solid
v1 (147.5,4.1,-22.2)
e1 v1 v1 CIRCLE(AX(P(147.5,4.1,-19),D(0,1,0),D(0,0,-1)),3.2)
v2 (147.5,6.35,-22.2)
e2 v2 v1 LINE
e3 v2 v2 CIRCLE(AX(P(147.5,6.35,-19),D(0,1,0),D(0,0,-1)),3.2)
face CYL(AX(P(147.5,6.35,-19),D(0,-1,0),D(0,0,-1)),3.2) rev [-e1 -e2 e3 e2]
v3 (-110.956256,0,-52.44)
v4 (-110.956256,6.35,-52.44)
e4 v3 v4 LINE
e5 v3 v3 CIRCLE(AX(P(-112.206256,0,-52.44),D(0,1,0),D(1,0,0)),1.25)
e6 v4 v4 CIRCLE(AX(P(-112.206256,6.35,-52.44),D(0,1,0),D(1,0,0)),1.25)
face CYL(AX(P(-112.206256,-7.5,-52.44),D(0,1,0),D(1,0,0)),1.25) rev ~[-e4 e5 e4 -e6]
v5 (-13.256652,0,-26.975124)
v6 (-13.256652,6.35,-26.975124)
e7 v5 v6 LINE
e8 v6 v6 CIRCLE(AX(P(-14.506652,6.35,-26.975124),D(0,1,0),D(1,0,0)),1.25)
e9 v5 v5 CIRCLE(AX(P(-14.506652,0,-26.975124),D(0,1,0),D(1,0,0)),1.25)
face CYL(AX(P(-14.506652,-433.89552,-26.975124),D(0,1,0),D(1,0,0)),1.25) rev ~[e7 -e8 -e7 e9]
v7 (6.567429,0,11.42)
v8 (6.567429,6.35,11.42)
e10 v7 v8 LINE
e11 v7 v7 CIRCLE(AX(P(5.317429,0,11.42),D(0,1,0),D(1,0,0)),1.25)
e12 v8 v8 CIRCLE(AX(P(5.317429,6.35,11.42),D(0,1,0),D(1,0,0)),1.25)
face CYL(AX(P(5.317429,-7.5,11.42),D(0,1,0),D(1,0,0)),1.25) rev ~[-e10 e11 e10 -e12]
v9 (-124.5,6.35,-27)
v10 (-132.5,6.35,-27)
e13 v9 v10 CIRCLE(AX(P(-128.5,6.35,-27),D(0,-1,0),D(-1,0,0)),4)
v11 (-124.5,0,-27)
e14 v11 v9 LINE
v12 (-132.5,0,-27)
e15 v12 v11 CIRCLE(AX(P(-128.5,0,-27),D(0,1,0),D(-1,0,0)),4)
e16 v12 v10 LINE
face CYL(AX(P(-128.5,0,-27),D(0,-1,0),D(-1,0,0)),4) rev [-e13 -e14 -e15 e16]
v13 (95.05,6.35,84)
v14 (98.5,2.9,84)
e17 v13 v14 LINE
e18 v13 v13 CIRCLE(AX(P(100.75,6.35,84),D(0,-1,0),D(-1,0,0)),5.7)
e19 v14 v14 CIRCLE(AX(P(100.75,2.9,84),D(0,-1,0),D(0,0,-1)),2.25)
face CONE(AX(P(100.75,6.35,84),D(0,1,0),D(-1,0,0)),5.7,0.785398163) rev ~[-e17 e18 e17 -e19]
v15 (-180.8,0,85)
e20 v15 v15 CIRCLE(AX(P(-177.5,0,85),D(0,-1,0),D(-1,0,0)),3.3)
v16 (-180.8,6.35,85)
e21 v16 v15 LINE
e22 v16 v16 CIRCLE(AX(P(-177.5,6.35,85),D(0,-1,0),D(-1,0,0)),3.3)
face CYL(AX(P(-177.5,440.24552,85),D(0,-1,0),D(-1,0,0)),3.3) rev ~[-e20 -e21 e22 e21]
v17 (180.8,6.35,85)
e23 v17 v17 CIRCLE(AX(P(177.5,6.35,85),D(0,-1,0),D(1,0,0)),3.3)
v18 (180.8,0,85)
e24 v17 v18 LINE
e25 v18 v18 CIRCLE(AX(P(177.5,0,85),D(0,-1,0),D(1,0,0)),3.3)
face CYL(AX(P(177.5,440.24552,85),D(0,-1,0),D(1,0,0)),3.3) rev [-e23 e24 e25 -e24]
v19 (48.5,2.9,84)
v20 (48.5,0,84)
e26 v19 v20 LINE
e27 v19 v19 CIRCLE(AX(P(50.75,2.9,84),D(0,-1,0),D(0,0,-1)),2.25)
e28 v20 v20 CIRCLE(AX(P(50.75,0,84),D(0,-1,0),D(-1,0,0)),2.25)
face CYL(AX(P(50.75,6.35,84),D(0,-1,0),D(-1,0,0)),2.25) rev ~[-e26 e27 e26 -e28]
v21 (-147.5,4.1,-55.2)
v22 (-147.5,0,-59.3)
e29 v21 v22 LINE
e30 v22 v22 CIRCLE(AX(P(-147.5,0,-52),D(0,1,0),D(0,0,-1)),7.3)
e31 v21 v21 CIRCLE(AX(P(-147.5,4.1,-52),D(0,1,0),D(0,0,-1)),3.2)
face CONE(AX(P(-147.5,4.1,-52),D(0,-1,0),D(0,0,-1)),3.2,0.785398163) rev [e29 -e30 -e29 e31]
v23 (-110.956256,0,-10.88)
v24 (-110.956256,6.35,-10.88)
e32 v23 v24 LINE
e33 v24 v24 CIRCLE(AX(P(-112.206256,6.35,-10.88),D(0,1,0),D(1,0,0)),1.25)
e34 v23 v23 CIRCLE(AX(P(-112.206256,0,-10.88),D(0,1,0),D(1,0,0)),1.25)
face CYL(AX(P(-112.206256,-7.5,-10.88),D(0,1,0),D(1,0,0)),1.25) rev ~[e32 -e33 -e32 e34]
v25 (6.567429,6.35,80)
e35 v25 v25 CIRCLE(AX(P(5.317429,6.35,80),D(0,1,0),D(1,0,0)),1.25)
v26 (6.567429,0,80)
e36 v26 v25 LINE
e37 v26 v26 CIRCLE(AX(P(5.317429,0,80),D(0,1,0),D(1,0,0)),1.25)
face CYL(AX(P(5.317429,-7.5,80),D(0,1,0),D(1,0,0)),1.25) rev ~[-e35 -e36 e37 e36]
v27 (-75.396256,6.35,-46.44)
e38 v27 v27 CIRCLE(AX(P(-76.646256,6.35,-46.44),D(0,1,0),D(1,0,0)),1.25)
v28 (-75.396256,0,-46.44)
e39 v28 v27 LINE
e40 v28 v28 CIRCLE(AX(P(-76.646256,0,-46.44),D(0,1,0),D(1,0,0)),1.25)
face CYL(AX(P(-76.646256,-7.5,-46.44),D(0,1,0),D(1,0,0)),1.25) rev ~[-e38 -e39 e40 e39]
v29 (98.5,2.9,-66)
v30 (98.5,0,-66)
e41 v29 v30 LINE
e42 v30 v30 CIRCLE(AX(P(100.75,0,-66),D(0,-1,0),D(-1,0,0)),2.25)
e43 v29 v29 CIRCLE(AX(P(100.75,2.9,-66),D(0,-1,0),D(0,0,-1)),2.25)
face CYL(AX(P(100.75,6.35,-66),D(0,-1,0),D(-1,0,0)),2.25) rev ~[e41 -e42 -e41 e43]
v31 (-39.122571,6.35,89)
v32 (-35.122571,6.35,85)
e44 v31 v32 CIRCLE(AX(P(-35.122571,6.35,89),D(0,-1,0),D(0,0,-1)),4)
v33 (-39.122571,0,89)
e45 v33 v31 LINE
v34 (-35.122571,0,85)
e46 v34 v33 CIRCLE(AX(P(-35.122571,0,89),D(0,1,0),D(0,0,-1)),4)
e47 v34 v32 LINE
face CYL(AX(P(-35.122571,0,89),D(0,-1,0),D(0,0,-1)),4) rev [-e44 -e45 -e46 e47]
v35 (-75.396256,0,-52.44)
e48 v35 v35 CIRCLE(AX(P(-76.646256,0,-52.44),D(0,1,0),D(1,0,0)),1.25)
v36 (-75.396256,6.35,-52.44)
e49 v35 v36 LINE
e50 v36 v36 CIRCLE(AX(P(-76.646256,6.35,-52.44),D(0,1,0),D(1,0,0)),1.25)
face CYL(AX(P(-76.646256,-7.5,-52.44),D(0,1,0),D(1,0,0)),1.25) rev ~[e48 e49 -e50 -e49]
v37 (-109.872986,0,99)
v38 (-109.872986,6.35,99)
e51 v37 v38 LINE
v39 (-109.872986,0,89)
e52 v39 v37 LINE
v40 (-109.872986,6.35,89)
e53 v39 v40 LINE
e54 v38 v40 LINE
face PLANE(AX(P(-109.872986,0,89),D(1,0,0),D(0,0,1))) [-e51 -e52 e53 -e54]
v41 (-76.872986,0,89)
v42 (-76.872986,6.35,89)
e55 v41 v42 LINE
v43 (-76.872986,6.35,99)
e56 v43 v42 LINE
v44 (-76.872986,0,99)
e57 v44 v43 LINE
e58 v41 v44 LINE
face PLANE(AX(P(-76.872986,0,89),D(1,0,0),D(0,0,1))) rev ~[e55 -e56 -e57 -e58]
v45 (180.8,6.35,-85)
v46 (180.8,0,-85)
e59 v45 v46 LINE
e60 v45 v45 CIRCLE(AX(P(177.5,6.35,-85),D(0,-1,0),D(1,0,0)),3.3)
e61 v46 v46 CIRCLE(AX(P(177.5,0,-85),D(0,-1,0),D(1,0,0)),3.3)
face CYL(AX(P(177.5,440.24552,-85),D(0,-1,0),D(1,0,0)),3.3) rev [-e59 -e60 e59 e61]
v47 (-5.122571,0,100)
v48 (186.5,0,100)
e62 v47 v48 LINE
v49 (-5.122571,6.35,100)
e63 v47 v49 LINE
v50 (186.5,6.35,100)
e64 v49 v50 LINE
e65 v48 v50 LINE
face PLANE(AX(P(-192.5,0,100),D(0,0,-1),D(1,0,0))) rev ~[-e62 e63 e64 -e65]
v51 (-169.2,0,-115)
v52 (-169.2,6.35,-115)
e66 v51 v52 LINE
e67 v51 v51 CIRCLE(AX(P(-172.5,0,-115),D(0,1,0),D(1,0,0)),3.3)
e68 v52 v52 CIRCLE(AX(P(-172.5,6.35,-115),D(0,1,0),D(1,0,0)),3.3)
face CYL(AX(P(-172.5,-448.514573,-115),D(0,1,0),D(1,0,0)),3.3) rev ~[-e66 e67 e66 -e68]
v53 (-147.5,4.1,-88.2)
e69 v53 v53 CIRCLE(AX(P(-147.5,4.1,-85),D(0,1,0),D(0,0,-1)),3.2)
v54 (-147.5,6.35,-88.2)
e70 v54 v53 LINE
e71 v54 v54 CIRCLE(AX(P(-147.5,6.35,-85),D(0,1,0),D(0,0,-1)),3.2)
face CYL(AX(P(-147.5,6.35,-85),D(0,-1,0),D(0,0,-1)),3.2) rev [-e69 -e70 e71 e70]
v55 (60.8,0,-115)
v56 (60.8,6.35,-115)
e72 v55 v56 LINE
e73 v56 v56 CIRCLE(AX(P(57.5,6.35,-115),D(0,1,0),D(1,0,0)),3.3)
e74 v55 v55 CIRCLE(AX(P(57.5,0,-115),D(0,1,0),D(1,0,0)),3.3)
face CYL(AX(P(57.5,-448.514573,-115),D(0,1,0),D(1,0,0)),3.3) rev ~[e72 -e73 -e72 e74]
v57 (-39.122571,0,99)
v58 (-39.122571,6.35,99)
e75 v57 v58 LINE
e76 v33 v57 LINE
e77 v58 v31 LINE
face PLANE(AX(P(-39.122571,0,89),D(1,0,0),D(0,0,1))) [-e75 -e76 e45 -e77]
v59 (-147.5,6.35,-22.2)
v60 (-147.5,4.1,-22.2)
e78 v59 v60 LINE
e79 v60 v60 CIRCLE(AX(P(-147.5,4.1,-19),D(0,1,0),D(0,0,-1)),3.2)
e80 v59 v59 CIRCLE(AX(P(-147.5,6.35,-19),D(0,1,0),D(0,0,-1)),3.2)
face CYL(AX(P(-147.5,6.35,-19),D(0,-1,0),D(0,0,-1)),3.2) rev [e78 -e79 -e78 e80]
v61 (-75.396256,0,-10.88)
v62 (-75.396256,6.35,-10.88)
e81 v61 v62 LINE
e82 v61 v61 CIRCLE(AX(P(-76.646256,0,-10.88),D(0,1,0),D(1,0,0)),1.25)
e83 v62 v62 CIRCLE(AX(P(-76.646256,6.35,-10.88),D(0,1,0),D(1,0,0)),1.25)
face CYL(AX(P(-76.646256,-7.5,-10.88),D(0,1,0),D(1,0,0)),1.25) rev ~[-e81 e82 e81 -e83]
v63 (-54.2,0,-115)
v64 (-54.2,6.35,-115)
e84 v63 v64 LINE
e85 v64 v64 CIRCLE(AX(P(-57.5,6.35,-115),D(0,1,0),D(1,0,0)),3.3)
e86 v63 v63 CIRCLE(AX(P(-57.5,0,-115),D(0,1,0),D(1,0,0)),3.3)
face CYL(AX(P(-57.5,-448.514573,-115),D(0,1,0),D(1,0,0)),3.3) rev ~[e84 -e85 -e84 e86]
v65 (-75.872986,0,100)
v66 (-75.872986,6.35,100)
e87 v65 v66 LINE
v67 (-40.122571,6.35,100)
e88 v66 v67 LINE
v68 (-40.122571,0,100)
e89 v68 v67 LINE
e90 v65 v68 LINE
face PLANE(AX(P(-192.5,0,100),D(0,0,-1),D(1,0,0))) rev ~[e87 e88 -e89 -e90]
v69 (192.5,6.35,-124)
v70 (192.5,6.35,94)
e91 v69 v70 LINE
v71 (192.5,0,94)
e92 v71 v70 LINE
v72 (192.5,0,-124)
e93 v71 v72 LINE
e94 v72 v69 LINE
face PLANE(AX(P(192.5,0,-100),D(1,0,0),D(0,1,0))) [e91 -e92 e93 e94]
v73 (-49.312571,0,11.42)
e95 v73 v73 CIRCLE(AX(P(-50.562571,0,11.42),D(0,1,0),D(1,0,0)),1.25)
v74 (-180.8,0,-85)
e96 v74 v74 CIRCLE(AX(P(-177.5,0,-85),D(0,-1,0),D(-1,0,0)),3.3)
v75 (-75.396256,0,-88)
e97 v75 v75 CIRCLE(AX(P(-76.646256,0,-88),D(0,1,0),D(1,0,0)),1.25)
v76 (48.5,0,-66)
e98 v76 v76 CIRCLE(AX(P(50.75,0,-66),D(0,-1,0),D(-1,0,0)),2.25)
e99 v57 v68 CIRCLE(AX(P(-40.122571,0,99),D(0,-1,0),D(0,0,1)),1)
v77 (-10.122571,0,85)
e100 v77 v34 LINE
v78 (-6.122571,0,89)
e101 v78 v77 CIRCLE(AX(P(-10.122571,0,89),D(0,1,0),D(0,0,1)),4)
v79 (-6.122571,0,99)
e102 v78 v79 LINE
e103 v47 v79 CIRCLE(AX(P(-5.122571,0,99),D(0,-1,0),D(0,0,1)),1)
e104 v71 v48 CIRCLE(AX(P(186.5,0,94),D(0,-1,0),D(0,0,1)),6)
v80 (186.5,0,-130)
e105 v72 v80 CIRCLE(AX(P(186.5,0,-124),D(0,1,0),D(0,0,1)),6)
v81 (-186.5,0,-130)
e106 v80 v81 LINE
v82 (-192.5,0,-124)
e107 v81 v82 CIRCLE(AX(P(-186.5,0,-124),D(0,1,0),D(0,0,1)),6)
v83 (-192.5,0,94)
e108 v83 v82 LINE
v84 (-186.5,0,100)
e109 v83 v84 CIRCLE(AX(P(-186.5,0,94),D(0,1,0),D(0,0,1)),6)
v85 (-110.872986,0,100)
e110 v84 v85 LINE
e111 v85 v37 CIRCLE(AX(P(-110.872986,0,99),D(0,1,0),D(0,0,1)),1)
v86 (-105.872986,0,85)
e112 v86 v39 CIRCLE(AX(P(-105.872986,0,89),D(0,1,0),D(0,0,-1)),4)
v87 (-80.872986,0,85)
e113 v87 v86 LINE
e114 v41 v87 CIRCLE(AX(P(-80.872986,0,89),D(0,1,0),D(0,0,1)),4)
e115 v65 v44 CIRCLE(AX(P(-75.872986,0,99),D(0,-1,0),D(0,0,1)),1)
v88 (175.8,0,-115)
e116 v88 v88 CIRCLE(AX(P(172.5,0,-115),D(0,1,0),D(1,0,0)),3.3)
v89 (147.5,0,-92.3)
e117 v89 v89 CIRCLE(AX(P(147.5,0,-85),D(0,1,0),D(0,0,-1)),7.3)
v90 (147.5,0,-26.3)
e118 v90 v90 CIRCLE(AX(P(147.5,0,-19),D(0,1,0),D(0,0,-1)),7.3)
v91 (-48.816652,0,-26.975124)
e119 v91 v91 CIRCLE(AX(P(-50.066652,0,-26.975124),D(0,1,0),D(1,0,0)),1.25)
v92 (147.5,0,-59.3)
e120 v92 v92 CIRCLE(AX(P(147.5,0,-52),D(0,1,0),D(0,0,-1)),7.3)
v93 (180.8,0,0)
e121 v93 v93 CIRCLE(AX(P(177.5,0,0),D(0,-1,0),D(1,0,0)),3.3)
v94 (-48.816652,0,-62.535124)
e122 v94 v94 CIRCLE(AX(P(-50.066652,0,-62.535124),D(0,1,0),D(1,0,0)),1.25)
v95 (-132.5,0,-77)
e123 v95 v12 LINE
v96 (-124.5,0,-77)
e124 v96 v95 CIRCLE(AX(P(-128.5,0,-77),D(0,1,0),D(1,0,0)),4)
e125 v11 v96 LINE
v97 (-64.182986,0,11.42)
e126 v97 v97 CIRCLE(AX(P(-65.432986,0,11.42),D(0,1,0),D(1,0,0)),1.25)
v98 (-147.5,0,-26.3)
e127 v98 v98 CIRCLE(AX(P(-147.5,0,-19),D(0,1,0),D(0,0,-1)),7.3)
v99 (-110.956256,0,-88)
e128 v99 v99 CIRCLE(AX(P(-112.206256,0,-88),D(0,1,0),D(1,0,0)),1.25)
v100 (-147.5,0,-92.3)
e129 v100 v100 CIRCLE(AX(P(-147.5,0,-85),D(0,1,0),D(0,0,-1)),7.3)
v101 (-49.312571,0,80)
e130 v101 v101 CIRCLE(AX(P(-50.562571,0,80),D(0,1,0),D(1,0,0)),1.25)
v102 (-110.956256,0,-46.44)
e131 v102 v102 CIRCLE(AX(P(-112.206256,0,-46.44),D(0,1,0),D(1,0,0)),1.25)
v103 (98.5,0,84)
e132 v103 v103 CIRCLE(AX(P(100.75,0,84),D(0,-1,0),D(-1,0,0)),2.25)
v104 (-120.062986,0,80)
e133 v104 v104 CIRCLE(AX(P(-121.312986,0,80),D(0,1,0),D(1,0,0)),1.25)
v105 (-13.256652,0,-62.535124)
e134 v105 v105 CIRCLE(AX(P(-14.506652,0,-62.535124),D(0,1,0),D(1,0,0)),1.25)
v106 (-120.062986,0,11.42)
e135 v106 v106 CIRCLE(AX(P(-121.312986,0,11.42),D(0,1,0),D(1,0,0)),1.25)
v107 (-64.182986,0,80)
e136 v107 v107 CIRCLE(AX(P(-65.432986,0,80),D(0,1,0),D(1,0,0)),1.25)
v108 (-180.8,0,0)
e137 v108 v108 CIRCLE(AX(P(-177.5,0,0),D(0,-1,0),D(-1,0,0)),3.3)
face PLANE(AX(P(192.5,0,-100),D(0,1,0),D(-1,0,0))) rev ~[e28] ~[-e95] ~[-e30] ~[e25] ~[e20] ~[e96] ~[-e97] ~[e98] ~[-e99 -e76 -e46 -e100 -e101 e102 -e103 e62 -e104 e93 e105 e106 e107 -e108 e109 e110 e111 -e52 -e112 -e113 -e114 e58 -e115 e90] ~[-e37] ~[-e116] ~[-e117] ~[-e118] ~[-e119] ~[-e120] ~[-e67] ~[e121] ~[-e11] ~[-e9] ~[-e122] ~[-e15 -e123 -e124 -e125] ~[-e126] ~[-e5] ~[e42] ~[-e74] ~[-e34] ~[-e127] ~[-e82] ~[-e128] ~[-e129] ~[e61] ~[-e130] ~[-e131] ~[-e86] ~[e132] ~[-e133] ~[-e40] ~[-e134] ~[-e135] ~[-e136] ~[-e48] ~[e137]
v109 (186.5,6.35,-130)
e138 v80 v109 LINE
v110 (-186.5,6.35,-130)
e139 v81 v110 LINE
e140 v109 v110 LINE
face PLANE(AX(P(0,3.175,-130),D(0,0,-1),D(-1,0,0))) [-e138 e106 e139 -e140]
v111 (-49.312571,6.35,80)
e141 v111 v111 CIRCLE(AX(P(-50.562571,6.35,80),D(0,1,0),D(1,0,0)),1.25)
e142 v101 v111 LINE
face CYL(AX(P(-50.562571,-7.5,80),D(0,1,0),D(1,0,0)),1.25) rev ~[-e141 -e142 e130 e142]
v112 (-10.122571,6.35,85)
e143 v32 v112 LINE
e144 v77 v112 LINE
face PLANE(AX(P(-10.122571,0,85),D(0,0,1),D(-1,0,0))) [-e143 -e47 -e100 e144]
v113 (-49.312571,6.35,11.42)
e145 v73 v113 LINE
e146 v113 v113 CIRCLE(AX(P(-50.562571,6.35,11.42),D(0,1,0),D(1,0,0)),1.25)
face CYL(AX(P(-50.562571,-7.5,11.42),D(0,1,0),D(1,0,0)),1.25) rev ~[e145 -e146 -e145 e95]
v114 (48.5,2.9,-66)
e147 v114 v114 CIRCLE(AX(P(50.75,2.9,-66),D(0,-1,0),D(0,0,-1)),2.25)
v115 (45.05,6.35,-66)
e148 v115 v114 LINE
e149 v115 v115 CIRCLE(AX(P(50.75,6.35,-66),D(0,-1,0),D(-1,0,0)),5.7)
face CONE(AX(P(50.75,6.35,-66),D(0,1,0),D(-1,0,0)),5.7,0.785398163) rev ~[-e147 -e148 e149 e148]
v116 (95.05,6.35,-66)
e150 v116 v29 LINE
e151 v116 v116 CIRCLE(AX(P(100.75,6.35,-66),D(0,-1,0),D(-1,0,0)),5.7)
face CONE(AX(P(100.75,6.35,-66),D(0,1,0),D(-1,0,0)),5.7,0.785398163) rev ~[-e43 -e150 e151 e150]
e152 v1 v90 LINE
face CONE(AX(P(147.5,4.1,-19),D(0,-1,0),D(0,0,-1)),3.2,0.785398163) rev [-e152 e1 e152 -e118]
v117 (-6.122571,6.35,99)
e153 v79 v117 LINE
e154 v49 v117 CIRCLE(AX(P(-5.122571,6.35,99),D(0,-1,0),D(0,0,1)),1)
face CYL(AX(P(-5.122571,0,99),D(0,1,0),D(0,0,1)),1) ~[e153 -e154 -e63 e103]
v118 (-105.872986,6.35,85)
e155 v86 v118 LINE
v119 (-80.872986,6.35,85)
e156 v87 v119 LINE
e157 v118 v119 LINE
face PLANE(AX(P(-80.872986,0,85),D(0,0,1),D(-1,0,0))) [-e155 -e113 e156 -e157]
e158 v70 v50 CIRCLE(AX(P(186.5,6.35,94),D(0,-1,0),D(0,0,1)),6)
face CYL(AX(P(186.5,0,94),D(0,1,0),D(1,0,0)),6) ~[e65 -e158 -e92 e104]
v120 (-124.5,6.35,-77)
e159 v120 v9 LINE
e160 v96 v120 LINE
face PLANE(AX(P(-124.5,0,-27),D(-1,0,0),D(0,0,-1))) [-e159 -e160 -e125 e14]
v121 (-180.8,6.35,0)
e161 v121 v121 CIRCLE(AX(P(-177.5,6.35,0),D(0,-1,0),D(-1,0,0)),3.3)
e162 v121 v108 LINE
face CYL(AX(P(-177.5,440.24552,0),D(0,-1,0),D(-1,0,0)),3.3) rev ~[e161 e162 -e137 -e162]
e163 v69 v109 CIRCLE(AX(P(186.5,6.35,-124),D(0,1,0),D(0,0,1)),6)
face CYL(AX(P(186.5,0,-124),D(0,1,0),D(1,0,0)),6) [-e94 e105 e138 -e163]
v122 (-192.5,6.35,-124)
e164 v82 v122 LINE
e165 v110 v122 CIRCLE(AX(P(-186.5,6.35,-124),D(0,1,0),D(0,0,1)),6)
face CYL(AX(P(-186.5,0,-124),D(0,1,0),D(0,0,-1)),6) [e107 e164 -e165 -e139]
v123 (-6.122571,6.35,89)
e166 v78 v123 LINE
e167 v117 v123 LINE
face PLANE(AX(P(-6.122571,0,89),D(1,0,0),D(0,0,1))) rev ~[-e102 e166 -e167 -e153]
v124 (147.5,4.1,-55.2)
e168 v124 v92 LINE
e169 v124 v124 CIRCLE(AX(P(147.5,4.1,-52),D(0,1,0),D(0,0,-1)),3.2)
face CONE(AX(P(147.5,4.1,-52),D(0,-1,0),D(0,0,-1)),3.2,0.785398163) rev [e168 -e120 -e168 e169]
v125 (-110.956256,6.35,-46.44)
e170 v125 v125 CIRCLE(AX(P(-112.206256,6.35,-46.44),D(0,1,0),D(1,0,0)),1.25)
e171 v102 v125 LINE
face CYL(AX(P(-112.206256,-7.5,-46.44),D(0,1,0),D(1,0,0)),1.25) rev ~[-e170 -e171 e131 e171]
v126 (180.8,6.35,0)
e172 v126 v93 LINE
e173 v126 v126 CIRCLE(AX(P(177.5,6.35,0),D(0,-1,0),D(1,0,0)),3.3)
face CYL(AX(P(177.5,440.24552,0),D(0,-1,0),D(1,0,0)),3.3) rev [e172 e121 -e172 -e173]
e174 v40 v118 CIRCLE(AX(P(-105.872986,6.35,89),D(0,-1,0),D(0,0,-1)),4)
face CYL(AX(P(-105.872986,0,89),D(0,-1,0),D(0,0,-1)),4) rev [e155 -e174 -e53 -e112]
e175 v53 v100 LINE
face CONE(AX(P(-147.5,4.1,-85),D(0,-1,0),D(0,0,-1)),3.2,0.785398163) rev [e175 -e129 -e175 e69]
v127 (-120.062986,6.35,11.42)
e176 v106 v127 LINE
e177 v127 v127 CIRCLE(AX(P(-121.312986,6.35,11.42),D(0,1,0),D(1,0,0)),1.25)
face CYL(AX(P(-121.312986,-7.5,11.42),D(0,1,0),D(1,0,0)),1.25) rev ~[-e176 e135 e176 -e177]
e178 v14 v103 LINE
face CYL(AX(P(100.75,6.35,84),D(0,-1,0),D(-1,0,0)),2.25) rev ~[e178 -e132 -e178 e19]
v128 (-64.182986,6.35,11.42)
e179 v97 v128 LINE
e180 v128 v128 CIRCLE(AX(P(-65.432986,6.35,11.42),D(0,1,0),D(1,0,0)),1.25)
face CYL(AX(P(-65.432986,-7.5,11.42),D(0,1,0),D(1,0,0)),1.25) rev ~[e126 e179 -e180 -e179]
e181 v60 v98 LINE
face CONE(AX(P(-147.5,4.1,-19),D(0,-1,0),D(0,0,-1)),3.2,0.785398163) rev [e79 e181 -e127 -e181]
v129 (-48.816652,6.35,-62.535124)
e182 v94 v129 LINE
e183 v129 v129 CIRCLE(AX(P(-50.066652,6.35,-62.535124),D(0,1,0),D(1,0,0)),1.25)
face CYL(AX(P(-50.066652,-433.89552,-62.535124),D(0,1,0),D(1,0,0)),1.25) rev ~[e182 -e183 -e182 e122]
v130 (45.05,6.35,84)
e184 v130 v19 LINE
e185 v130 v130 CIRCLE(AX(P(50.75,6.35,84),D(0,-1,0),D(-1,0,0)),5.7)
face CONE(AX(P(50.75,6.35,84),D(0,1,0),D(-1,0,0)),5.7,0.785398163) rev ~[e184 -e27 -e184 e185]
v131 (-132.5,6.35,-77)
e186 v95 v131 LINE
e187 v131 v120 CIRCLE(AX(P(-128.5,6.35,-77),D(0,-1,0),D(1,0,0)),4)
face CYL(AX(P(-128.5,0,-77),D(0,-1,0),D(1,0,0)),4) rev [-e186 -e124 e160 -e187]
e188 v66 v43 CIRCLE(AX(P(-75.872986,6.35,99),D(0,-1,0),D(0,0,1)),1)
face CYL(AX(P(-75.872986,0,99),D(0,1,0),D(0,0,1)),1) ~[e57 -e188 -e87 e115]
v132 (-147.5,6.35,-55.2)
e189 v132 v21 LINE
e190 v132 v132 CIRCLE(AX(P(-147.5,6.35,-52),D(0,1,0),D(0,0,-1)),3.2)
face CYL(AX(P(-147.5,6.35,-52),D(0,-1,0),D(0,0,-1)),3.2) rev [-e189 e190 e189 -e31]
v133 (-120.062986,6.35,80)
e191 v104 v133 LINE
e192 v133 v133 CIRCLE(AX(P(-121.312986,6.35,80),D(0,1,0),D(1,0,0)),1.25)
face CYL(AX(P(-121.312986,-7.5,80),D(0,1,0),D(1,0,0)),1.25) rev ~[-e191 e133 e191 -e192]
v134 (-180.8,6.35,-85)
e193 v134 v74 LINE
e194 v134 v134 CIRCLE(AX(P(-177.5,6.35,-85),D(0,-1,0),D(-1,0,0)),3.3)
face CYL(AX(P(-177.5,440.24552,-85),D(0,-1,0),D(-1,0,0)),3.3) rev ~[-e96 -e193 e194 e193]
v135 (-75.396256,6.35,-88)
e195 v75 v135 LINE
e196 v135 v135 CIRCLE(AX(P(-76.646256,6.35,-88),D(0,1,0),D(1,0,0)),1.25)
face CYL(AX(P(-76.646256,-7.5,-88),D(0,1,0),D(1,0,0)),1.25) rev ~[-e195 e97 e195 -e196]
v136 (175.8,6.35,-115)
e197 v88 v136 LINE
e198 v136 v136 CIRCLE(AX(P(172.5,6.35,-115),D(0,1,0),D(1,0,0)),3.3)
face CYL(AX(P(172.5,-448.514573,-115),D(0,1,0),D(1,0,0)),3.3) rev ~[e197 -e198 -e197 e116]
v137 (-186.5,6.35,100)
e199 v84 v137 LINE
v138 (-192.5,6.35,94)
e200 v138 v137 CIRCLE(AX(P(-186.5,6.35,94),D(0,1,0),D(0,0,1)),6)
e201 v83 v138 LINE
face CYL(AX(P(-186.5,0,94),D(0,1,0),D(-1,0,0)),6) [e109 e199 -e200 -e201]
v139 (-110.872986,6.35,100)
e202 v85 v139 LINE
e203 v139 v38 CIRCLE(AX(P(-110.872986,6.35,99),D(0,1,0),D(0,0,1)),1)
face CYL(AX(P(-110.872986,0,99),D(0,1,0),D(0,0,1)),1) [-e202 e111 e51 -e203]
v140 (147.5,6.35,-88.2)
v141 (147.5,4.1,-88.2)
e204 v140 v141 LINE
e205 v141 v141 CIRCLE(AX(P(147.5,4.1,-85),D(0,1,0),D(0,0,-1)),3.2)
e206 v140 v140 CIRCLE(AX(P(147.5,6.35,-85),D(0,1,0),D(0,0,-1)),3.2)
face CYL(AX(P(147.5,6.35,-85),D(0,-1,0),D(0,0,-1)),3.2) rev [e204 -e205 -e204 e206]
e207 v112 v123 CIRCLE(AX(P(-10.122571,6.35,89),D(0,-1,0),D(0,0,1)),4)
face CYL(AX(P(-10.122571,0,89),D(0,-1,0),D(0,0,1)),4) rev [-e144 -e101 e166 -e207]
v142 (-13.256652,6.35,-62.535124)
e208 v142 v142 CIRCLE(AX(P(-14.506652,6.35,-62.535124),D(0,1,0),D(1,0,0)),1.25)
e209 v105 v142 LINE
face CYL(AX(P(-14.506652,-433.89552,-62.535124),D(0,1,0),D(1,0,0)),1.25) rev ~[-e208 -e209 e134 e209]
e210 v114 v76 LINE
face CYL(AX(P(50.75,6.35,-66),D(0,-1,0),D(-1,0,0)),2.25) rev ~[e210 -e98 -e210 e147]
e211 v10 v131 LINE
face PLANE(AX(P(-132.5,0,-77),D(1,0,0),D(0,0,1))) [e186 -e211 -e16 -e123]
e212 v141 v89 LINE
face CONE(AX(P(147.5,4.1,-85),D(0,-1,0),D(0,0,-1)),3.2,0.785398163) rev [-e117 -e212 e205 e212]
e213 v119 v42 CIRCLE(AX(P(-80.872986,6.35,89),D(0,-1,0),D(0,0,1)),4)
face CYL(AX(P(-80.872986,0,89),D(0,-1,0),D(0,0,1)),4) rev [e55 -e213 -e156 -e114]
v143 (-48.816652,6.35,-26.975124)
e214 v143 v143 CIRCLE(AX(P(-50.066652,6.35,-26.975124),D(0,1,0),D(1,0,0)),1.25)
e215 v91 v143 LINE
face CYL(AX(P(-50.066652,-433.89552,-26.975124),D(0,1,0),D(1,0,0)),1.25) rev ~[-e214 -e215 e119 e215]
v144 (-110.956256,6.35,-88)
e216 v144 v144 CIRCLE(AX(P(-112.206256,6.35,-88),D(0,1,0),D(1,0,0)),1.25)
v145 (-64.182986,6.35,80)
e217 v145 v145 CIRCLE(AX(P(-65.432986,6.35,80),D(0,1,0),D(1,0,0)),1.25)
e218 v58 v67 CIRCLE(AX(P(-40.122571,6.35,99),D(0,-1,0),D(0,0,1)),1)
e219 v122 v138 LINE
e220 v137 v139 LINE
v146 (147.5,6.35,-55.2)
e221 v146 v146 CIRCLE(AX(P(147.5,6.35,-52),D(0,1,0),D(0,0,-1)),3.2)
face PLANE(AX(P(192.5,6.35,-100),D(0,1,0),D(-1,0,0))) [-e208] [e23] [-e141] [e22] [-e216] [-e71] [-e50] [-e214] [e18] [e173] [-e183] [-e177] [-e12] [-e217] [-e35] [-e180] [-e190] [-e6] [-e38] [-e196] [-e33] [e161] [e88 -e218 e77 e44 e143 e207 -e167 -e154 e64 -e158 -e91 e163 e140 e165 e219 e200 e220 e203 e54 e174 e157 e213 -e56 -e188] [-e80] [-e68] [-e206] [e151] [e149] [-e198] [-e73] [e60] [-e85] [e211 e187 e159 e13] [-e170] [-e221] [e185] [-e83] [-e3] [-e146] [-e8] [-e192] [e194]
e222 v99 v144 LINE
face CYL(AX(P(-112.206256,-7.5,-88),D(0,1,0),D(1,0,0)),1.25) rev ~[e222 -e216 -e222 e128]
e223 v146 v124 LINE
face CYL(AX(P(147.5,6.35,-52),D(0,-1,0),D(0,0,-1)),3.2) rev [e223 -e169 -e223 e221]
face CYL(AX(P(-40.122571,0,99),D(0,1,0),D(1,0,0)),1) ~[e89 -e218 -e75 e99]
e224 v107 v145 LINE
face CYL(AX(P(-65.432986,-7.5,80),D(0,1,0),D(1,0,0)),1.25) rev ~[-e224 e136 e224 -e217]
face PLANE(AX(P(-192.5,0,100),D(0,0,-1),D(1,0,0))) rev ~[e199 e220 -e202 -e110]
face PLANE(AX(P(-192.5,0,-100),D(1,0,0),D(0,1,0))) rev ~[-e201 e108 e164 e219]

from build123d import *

# Parameters (mm, degrees)
SKETCH1_W                                       = 385
SKETCH1_H                                       = 200
BOSS_EXTRUDE1_DEPTH                             = 6.35
M6_CLEARANCE_HOLE1_D                            = 6.6
CSK_FOR_M6_FLAT_HEAD_MACHINE_SCREW1_AT_2_COUNT  = 2
CSK_FOR_M6_FLAT_HEAD_MACHINE_SCREW1_AT_2_PITCH  = 33
CSK_FOR_M6_FLAT_HEAD_MACHINE_SCREW1_AT_3_COUNT  = 2
CSK_FOR_M6_FLAT_HEAD_MACHINE_SCREW1_AT_3_PITCH  = 66
CSK_FOR_M6_FLAT_HEAD_MACHINE_SCREW1_AT_4_COUNT  = 2
CSK_FOR_M6_FLAT_HEAD_MACHINE_SCREW1_AT_4_PITCH  = 295
CSK_FOR_M6_FLAT_HEAD_MACHINE_SCREW1_AT_5_COUNT  = 2
CSK_FOR_M6_FLAT_HEAD_MACHINE_SCREW1_AT_5_PITCH  = 302.292904316
CSK_FOR_M6_FLAT_HEAD_MACHINE_SCREW1_AT_6_COUNT  = 2
CSK_FOR_M6_FLAT_HEAD_MACHINE_SCREW1_AT_6_PITCH  = 296.840024255
M3X0_5_TAPPED_HOLE1_D                           = 2.5
M3X0_5_TAPPED_HOLE1_DEPTH                       = 7.5
M3X0_5_TAPPED_HOLE1_TIP                         = 0.751075774
CSK_FOR_M4_FLAT_HEAD_MACHINE_SCREW1_D           = 4.5
CSK_FOR_M4_FLAT_HEAD_MACHINE_SCREW1_CSINK_D     = 11.4
CSK_FOR_M4_FLAT_HEAD_MACHINE_SCREW1_CSINK_ANGLE = 90
M3X0_5_TAPPED_HOLE2_D                           = 2.5
CUT_EXTRUDE1_DEPTH                              = 7.35
CUT_EXTRUDE2_DEPTH                              = 7.35
SKETCH18_W                                      = 33
SKETCH18_H                                      = 11
CUT_EXTRUDE3_DEPTH                              = 7.35
FILLET2_R                                       = 1
SKETCH19_W                                      = 385
SKETCH19_H                                      = 6.35
BOSS_EXTRUDE2_DEPTH                             = 30
M6_CLEARANCE_HOLE2_D                            = 6.6
FILLET3_R                                       = 6


with BuildPart() as part:
    # Sketch1 → Boss-Extrude1 (new body)
    with BuildSketch(Plane(origin=(0, 0, 0), x_dir=(1, 0, 0), z_dir=(0, 1, 0))):
        Rectangle(SKETCH1_W, SKETCH1_H)
    extrude(amount=BOSS_EXTRUDE1_DEPTH)

    # M6 Clearance Hole1 (through all)
    with Locations(Plane(origin=(0, 6.35, 0), x_dir=(1, 0, 0), z_dir=(0, 1, 0))):
        with Locations((-177.5, 85), (-177.5, 0), (-177.5, -85)):
            m6_clearance_hole1 = Hole(M6_CLEARANCE_HOLE1_D / 2)

    # Mirror1: M6 Clearance Hole1 across plane
    add(m6_clearance_hole1.mirror(Plane(origin=(0, 0, 0), x_dir=(0, 0, 1), z_dir=(1, 0, 0))), mode=Mode.SUBTRACT)

    # Sketch8 → CSK for M6 Flat Head Machine Screw1 (revolve, cut)
    with BuildSketch(Plane(origin=(147.5, 0, -85), x_dir=(0, 0, -1), z_dir=(1, 0, 0))):
        Polygon((0, 0), (0, 6.35), (3.2, 6.35), (3.2, 4.1), (7.3, 0), align=None)
    csk_for_m6_flat_head_machine_screw1 = revolve(axis=Axis((147.5, -6.35, -85), (0, 1, 0)), mode=Mode.SUBTRACT)

    # CSK for M6 Flat Head Machine Screw1 at 2: CSK for M6 Flat Head Machine Screw1 ×2
    with Locations(*[(0, 0, i * CSK_FOR_M6_FLAT_HEAD_MACHINE_SCREW1_AT_2_PITCH) for i in range(1, CSK_FOR_M6_FLAT_HEAD_MACHINE_SCREW1_AT_2_COUNT)]):
        add(csk_for_m6_flat_head_machine_screw1, mode=Mode.SUBTRACT)

    # CSK for M6 Flat Head Machine Screw1 at 3: CSK for M6 Flat Head Machine Screw1 ×2
    with Locations(*[(0, 0, i * CSK_FOR_M6_FLAT_HEAD_MACHINE_SCREW1_AT_3_PITCH) for i in range(1, CSK_FOR_M6_FLAT_HEAD_MACHINE_SCREW1_AT_3_COUNT)]):
        add(csk_for_m6_flat_head_machine_screw1, mode=Mode.SUBTRACT)

    # CSK for M6 Flat Head Machine Screw1 at 4: CSK for M6 Flat Head Machine Screw1 ×2
    with Locations(*[(-i * CSK_FOR_M6_FLAT_HEAD_MACHINE_SCREW1_AT_4_PITCH, 0, 0) for i in range(1, CSK_FOR_M6_FLAT_HEAD_MACHINE_SCREW1_AT_4_COUNT)]):
        add(csk_for_m6_flat_head_machine_screw1, mode=Mode.SUBTRACT)

    # CSK for M6 Flat Head Machine Screw1 at 5: CSK for M6 Flat Head Machine Screw1 ×2
    with Locations(*[Vector(-0.975874709, 0, 0.218331291) * (i * CSK_FOR_M6_FLAT_HEAD_MACHINE_SCREW1_AT_5_PITCH) for i in range(1, CSK_FOR_M6_FLAT_HEAD_MACHINE_SCREW1_AT_5_COUNT)]):
        add(csk_for_m6_flat_head_machine_screw1, mode=Mode.SUBTRACT)

    # CSK for M6 Flat Head Machine Screw1 at 6: CSK for M6 Flat Head Machine Screw1 ×2
    with Locations(*[Vector(-0.993801293, 0, 0.111170992) * (i * CSK_FOR_M6_FLAT_HEAD_MACHINE_SCREW1_AT_6_PITCH) for i in range(1, CSK_FOR_M6_FLAT_HEAD_MACHINE_SCREW1_AT_6_COUNT)]):
        add(csk_for_m6_flat_head_machine_screw1, mode=Mode.SUBTRACT)

    # M3x0.5 Tapped Hole1
    with Locations(Plane(origin=(0, 0, 0), x_dir=(-1, 0, 0), z_dir=(0, -1, 0))):
        with Locations((-5.317429377, -80), (50.562570623, -80), (65.432985675, -80), (121.312985675, -80), (121.312985675, -11.42), (65.432985675, -11.42), (50.562570623, -11.42), (-5.317429377, -11.42), (76.646256291, 52.44), (76.646256291, 88), (112.206256291, 52.44), (112.206256291, 88), (76.646256291, 46.44), (112.206256291, 46.44), (112.206256291, 10.88), (76.646256291, 10.88)):
            Hole(M3X0_5_TAPPED_HOLE1_D / 2, depth=M3X0_5_TAPPED_HOLE1_DEPTH)
            with Locations((0, 0, -(M3X0_5_TAPPED_HOLE1_DEPTH + M3X0_5_TAPPED_HOLE1_TIP / 2))):  # 118° drill point
                Cone(0, M3X0_5_TAPPED_HOLE1_D / 2, M3X0_5_TAPPED_HOLE1_TIP, mode=Mode.SUBTRACT)

    # CSK for M4 Flat Head Machine Screw1 (through all)
    with Locations(Plane(origin=(0, 6.35, 0), x_dir=(1, 0, 0), z_dir=(0, 1, 0))):
        with Locations((50.75, -84), (100.75, -84), (50.75, 66), (100.75, 66)):
            CounterSinkHole(CSK_FOR_M4_FLAT_HEAD_MACHINE_SCREW1_D / 2, CSK_FOR_M4_FLAT_HEAD_MACHINE_SCREW1_CSINK_D / 2, counter_sink_angle=CSK_FOR_M4_FLAT_HEAD_MACHINE_SCREW1_CSINK_ANGLE)

    # M3x0.5 Tapped Hole2 (through all)
    with Locations(Plane(origin=(0, 0, 0), x_dir=(-1, 0, 0), z_dir=(0, -1, 0))):
        with Locations((14.506651869, 62.535124228), (50.066651869, 62.535124228), (50.066651869, 26.975124228), (14.506651869, 26.975124228)):
            Hole(M3X0_5_TAPPED_HOLE2_D / 2)

    # Sketch16 → Cut-Extrude1 (cut, through all)
    with BuildSketch(Plane.XZ):
        with BuildLine():
            Line((-124.5, -27), (-124.5, -77))
            ThreePointArc((-124.5, -77), (-128.5, -81), (-132.5, -77))
            Line((-132.5, -77), (-132.5, -27))
            ThreePointArc((-132.5, -27), (-128.5, -23), (-124.5, -27))
        make_face()
    extrude(amount=-CUT_EXTRUDE1_DEPTH, mode=Mode.SUBTRACT)

    # Sketch17 → Cut-Extrude2 (cut, through all)
    with BuildSketch(Plane.XZ):
        with BuildLine():
            Line((-105.872985675, 93), (-80.872985675, 93))
            ThreePointArc((-80.872985675, 93), (-76.872985675, 89), (-80.872985675, 85))
            Line((-80.872985675, 85), (-105.872985675, 85))
            ThreePointArc((-105.872985675, 85), (-109.872985675, 89), (-105.872985675, 93))
        make_face()
        with BuildLine():
            Line((-35.122570623, 93), (-10.122570623, 93))
            ThreePointArc((-10.122570623, 93), (-6.122570623, 89), (-10.122570623, 85))
            Line((-10.122570623, 85), (-35.122570623, 85))
            ThreePointArc((-35.122570623, 85), (-39.122570623, 89), (-35.122570623, 93))
        make_face()
    extrude(amount=-CUT_EXTRUDE2_DEPTH, mode=Mode.SUBTRACT)

    # Sketch18 → Cut-Extrude3 (cut, through all)
    with BuildSketch(Plane.XZ):
        with Locations((-22.622570623, 94.5)):
            Rectangle(SKETCH18_W, SKETCH18_H)
        with Locations((-93.372985675, 94.5)):
            Rectangle(SKETCH18_W, SKETCH18_H)
    extrude(amount=-CUT_EXTRUDE3_DEPTH, mode=Mode.SUBTRACT)

    # Fillet2
    fillet2_edges = [part.edges().sort_by_distance(p)[0] for p in [
        (-6.122570623, 3.175, 100),
        (-39.122570623, 3.175, 100),
        (-76.872985675, 3.175, 100),
        (-109.872985675, 3.175, 100),
    ]]
    fillet(fillet2_edges, radius=FILLET2_R)

    # Sketch19 → Boss-Extrude2 (add)
    with BuildSketch(Plane(origin=(0, 0, -100), x_dir=(-1, 0, 0), z_dir=(0, 0, -1))):
        with Locations((0, 3.175)):
            Rectangle(SKETCH19_W, SKETCH19_H)
    extrude(amount=BOSS_EXTRUDE2_DEPTH)

    # M6 Clearance Hole2 (through all)
    with Locations(Plane(origin=(0, 0, 0), x_dir=(-1, 0, 0), z_dir=(0, -1, 0))):
        with Locations((-172.5, 115), (172.5, 115), (-57.5, 115), (57.5, 115)):
            Hole(M6_CLEARANCE_HOLE2_D / 2)

    # Fillet3
    fillet3_edges = [part.edges().sort_by_distance(p)[0] for p in [
        (192.5, 3.175, -130),
        (-192.5, 3.175, -130),
        (192.5, 3.175, 100),
        (-192.5, 3.175, 100),
    ]]
    fillet(fillet3_edges, radius=FILLET3_R)


solid = part.part
